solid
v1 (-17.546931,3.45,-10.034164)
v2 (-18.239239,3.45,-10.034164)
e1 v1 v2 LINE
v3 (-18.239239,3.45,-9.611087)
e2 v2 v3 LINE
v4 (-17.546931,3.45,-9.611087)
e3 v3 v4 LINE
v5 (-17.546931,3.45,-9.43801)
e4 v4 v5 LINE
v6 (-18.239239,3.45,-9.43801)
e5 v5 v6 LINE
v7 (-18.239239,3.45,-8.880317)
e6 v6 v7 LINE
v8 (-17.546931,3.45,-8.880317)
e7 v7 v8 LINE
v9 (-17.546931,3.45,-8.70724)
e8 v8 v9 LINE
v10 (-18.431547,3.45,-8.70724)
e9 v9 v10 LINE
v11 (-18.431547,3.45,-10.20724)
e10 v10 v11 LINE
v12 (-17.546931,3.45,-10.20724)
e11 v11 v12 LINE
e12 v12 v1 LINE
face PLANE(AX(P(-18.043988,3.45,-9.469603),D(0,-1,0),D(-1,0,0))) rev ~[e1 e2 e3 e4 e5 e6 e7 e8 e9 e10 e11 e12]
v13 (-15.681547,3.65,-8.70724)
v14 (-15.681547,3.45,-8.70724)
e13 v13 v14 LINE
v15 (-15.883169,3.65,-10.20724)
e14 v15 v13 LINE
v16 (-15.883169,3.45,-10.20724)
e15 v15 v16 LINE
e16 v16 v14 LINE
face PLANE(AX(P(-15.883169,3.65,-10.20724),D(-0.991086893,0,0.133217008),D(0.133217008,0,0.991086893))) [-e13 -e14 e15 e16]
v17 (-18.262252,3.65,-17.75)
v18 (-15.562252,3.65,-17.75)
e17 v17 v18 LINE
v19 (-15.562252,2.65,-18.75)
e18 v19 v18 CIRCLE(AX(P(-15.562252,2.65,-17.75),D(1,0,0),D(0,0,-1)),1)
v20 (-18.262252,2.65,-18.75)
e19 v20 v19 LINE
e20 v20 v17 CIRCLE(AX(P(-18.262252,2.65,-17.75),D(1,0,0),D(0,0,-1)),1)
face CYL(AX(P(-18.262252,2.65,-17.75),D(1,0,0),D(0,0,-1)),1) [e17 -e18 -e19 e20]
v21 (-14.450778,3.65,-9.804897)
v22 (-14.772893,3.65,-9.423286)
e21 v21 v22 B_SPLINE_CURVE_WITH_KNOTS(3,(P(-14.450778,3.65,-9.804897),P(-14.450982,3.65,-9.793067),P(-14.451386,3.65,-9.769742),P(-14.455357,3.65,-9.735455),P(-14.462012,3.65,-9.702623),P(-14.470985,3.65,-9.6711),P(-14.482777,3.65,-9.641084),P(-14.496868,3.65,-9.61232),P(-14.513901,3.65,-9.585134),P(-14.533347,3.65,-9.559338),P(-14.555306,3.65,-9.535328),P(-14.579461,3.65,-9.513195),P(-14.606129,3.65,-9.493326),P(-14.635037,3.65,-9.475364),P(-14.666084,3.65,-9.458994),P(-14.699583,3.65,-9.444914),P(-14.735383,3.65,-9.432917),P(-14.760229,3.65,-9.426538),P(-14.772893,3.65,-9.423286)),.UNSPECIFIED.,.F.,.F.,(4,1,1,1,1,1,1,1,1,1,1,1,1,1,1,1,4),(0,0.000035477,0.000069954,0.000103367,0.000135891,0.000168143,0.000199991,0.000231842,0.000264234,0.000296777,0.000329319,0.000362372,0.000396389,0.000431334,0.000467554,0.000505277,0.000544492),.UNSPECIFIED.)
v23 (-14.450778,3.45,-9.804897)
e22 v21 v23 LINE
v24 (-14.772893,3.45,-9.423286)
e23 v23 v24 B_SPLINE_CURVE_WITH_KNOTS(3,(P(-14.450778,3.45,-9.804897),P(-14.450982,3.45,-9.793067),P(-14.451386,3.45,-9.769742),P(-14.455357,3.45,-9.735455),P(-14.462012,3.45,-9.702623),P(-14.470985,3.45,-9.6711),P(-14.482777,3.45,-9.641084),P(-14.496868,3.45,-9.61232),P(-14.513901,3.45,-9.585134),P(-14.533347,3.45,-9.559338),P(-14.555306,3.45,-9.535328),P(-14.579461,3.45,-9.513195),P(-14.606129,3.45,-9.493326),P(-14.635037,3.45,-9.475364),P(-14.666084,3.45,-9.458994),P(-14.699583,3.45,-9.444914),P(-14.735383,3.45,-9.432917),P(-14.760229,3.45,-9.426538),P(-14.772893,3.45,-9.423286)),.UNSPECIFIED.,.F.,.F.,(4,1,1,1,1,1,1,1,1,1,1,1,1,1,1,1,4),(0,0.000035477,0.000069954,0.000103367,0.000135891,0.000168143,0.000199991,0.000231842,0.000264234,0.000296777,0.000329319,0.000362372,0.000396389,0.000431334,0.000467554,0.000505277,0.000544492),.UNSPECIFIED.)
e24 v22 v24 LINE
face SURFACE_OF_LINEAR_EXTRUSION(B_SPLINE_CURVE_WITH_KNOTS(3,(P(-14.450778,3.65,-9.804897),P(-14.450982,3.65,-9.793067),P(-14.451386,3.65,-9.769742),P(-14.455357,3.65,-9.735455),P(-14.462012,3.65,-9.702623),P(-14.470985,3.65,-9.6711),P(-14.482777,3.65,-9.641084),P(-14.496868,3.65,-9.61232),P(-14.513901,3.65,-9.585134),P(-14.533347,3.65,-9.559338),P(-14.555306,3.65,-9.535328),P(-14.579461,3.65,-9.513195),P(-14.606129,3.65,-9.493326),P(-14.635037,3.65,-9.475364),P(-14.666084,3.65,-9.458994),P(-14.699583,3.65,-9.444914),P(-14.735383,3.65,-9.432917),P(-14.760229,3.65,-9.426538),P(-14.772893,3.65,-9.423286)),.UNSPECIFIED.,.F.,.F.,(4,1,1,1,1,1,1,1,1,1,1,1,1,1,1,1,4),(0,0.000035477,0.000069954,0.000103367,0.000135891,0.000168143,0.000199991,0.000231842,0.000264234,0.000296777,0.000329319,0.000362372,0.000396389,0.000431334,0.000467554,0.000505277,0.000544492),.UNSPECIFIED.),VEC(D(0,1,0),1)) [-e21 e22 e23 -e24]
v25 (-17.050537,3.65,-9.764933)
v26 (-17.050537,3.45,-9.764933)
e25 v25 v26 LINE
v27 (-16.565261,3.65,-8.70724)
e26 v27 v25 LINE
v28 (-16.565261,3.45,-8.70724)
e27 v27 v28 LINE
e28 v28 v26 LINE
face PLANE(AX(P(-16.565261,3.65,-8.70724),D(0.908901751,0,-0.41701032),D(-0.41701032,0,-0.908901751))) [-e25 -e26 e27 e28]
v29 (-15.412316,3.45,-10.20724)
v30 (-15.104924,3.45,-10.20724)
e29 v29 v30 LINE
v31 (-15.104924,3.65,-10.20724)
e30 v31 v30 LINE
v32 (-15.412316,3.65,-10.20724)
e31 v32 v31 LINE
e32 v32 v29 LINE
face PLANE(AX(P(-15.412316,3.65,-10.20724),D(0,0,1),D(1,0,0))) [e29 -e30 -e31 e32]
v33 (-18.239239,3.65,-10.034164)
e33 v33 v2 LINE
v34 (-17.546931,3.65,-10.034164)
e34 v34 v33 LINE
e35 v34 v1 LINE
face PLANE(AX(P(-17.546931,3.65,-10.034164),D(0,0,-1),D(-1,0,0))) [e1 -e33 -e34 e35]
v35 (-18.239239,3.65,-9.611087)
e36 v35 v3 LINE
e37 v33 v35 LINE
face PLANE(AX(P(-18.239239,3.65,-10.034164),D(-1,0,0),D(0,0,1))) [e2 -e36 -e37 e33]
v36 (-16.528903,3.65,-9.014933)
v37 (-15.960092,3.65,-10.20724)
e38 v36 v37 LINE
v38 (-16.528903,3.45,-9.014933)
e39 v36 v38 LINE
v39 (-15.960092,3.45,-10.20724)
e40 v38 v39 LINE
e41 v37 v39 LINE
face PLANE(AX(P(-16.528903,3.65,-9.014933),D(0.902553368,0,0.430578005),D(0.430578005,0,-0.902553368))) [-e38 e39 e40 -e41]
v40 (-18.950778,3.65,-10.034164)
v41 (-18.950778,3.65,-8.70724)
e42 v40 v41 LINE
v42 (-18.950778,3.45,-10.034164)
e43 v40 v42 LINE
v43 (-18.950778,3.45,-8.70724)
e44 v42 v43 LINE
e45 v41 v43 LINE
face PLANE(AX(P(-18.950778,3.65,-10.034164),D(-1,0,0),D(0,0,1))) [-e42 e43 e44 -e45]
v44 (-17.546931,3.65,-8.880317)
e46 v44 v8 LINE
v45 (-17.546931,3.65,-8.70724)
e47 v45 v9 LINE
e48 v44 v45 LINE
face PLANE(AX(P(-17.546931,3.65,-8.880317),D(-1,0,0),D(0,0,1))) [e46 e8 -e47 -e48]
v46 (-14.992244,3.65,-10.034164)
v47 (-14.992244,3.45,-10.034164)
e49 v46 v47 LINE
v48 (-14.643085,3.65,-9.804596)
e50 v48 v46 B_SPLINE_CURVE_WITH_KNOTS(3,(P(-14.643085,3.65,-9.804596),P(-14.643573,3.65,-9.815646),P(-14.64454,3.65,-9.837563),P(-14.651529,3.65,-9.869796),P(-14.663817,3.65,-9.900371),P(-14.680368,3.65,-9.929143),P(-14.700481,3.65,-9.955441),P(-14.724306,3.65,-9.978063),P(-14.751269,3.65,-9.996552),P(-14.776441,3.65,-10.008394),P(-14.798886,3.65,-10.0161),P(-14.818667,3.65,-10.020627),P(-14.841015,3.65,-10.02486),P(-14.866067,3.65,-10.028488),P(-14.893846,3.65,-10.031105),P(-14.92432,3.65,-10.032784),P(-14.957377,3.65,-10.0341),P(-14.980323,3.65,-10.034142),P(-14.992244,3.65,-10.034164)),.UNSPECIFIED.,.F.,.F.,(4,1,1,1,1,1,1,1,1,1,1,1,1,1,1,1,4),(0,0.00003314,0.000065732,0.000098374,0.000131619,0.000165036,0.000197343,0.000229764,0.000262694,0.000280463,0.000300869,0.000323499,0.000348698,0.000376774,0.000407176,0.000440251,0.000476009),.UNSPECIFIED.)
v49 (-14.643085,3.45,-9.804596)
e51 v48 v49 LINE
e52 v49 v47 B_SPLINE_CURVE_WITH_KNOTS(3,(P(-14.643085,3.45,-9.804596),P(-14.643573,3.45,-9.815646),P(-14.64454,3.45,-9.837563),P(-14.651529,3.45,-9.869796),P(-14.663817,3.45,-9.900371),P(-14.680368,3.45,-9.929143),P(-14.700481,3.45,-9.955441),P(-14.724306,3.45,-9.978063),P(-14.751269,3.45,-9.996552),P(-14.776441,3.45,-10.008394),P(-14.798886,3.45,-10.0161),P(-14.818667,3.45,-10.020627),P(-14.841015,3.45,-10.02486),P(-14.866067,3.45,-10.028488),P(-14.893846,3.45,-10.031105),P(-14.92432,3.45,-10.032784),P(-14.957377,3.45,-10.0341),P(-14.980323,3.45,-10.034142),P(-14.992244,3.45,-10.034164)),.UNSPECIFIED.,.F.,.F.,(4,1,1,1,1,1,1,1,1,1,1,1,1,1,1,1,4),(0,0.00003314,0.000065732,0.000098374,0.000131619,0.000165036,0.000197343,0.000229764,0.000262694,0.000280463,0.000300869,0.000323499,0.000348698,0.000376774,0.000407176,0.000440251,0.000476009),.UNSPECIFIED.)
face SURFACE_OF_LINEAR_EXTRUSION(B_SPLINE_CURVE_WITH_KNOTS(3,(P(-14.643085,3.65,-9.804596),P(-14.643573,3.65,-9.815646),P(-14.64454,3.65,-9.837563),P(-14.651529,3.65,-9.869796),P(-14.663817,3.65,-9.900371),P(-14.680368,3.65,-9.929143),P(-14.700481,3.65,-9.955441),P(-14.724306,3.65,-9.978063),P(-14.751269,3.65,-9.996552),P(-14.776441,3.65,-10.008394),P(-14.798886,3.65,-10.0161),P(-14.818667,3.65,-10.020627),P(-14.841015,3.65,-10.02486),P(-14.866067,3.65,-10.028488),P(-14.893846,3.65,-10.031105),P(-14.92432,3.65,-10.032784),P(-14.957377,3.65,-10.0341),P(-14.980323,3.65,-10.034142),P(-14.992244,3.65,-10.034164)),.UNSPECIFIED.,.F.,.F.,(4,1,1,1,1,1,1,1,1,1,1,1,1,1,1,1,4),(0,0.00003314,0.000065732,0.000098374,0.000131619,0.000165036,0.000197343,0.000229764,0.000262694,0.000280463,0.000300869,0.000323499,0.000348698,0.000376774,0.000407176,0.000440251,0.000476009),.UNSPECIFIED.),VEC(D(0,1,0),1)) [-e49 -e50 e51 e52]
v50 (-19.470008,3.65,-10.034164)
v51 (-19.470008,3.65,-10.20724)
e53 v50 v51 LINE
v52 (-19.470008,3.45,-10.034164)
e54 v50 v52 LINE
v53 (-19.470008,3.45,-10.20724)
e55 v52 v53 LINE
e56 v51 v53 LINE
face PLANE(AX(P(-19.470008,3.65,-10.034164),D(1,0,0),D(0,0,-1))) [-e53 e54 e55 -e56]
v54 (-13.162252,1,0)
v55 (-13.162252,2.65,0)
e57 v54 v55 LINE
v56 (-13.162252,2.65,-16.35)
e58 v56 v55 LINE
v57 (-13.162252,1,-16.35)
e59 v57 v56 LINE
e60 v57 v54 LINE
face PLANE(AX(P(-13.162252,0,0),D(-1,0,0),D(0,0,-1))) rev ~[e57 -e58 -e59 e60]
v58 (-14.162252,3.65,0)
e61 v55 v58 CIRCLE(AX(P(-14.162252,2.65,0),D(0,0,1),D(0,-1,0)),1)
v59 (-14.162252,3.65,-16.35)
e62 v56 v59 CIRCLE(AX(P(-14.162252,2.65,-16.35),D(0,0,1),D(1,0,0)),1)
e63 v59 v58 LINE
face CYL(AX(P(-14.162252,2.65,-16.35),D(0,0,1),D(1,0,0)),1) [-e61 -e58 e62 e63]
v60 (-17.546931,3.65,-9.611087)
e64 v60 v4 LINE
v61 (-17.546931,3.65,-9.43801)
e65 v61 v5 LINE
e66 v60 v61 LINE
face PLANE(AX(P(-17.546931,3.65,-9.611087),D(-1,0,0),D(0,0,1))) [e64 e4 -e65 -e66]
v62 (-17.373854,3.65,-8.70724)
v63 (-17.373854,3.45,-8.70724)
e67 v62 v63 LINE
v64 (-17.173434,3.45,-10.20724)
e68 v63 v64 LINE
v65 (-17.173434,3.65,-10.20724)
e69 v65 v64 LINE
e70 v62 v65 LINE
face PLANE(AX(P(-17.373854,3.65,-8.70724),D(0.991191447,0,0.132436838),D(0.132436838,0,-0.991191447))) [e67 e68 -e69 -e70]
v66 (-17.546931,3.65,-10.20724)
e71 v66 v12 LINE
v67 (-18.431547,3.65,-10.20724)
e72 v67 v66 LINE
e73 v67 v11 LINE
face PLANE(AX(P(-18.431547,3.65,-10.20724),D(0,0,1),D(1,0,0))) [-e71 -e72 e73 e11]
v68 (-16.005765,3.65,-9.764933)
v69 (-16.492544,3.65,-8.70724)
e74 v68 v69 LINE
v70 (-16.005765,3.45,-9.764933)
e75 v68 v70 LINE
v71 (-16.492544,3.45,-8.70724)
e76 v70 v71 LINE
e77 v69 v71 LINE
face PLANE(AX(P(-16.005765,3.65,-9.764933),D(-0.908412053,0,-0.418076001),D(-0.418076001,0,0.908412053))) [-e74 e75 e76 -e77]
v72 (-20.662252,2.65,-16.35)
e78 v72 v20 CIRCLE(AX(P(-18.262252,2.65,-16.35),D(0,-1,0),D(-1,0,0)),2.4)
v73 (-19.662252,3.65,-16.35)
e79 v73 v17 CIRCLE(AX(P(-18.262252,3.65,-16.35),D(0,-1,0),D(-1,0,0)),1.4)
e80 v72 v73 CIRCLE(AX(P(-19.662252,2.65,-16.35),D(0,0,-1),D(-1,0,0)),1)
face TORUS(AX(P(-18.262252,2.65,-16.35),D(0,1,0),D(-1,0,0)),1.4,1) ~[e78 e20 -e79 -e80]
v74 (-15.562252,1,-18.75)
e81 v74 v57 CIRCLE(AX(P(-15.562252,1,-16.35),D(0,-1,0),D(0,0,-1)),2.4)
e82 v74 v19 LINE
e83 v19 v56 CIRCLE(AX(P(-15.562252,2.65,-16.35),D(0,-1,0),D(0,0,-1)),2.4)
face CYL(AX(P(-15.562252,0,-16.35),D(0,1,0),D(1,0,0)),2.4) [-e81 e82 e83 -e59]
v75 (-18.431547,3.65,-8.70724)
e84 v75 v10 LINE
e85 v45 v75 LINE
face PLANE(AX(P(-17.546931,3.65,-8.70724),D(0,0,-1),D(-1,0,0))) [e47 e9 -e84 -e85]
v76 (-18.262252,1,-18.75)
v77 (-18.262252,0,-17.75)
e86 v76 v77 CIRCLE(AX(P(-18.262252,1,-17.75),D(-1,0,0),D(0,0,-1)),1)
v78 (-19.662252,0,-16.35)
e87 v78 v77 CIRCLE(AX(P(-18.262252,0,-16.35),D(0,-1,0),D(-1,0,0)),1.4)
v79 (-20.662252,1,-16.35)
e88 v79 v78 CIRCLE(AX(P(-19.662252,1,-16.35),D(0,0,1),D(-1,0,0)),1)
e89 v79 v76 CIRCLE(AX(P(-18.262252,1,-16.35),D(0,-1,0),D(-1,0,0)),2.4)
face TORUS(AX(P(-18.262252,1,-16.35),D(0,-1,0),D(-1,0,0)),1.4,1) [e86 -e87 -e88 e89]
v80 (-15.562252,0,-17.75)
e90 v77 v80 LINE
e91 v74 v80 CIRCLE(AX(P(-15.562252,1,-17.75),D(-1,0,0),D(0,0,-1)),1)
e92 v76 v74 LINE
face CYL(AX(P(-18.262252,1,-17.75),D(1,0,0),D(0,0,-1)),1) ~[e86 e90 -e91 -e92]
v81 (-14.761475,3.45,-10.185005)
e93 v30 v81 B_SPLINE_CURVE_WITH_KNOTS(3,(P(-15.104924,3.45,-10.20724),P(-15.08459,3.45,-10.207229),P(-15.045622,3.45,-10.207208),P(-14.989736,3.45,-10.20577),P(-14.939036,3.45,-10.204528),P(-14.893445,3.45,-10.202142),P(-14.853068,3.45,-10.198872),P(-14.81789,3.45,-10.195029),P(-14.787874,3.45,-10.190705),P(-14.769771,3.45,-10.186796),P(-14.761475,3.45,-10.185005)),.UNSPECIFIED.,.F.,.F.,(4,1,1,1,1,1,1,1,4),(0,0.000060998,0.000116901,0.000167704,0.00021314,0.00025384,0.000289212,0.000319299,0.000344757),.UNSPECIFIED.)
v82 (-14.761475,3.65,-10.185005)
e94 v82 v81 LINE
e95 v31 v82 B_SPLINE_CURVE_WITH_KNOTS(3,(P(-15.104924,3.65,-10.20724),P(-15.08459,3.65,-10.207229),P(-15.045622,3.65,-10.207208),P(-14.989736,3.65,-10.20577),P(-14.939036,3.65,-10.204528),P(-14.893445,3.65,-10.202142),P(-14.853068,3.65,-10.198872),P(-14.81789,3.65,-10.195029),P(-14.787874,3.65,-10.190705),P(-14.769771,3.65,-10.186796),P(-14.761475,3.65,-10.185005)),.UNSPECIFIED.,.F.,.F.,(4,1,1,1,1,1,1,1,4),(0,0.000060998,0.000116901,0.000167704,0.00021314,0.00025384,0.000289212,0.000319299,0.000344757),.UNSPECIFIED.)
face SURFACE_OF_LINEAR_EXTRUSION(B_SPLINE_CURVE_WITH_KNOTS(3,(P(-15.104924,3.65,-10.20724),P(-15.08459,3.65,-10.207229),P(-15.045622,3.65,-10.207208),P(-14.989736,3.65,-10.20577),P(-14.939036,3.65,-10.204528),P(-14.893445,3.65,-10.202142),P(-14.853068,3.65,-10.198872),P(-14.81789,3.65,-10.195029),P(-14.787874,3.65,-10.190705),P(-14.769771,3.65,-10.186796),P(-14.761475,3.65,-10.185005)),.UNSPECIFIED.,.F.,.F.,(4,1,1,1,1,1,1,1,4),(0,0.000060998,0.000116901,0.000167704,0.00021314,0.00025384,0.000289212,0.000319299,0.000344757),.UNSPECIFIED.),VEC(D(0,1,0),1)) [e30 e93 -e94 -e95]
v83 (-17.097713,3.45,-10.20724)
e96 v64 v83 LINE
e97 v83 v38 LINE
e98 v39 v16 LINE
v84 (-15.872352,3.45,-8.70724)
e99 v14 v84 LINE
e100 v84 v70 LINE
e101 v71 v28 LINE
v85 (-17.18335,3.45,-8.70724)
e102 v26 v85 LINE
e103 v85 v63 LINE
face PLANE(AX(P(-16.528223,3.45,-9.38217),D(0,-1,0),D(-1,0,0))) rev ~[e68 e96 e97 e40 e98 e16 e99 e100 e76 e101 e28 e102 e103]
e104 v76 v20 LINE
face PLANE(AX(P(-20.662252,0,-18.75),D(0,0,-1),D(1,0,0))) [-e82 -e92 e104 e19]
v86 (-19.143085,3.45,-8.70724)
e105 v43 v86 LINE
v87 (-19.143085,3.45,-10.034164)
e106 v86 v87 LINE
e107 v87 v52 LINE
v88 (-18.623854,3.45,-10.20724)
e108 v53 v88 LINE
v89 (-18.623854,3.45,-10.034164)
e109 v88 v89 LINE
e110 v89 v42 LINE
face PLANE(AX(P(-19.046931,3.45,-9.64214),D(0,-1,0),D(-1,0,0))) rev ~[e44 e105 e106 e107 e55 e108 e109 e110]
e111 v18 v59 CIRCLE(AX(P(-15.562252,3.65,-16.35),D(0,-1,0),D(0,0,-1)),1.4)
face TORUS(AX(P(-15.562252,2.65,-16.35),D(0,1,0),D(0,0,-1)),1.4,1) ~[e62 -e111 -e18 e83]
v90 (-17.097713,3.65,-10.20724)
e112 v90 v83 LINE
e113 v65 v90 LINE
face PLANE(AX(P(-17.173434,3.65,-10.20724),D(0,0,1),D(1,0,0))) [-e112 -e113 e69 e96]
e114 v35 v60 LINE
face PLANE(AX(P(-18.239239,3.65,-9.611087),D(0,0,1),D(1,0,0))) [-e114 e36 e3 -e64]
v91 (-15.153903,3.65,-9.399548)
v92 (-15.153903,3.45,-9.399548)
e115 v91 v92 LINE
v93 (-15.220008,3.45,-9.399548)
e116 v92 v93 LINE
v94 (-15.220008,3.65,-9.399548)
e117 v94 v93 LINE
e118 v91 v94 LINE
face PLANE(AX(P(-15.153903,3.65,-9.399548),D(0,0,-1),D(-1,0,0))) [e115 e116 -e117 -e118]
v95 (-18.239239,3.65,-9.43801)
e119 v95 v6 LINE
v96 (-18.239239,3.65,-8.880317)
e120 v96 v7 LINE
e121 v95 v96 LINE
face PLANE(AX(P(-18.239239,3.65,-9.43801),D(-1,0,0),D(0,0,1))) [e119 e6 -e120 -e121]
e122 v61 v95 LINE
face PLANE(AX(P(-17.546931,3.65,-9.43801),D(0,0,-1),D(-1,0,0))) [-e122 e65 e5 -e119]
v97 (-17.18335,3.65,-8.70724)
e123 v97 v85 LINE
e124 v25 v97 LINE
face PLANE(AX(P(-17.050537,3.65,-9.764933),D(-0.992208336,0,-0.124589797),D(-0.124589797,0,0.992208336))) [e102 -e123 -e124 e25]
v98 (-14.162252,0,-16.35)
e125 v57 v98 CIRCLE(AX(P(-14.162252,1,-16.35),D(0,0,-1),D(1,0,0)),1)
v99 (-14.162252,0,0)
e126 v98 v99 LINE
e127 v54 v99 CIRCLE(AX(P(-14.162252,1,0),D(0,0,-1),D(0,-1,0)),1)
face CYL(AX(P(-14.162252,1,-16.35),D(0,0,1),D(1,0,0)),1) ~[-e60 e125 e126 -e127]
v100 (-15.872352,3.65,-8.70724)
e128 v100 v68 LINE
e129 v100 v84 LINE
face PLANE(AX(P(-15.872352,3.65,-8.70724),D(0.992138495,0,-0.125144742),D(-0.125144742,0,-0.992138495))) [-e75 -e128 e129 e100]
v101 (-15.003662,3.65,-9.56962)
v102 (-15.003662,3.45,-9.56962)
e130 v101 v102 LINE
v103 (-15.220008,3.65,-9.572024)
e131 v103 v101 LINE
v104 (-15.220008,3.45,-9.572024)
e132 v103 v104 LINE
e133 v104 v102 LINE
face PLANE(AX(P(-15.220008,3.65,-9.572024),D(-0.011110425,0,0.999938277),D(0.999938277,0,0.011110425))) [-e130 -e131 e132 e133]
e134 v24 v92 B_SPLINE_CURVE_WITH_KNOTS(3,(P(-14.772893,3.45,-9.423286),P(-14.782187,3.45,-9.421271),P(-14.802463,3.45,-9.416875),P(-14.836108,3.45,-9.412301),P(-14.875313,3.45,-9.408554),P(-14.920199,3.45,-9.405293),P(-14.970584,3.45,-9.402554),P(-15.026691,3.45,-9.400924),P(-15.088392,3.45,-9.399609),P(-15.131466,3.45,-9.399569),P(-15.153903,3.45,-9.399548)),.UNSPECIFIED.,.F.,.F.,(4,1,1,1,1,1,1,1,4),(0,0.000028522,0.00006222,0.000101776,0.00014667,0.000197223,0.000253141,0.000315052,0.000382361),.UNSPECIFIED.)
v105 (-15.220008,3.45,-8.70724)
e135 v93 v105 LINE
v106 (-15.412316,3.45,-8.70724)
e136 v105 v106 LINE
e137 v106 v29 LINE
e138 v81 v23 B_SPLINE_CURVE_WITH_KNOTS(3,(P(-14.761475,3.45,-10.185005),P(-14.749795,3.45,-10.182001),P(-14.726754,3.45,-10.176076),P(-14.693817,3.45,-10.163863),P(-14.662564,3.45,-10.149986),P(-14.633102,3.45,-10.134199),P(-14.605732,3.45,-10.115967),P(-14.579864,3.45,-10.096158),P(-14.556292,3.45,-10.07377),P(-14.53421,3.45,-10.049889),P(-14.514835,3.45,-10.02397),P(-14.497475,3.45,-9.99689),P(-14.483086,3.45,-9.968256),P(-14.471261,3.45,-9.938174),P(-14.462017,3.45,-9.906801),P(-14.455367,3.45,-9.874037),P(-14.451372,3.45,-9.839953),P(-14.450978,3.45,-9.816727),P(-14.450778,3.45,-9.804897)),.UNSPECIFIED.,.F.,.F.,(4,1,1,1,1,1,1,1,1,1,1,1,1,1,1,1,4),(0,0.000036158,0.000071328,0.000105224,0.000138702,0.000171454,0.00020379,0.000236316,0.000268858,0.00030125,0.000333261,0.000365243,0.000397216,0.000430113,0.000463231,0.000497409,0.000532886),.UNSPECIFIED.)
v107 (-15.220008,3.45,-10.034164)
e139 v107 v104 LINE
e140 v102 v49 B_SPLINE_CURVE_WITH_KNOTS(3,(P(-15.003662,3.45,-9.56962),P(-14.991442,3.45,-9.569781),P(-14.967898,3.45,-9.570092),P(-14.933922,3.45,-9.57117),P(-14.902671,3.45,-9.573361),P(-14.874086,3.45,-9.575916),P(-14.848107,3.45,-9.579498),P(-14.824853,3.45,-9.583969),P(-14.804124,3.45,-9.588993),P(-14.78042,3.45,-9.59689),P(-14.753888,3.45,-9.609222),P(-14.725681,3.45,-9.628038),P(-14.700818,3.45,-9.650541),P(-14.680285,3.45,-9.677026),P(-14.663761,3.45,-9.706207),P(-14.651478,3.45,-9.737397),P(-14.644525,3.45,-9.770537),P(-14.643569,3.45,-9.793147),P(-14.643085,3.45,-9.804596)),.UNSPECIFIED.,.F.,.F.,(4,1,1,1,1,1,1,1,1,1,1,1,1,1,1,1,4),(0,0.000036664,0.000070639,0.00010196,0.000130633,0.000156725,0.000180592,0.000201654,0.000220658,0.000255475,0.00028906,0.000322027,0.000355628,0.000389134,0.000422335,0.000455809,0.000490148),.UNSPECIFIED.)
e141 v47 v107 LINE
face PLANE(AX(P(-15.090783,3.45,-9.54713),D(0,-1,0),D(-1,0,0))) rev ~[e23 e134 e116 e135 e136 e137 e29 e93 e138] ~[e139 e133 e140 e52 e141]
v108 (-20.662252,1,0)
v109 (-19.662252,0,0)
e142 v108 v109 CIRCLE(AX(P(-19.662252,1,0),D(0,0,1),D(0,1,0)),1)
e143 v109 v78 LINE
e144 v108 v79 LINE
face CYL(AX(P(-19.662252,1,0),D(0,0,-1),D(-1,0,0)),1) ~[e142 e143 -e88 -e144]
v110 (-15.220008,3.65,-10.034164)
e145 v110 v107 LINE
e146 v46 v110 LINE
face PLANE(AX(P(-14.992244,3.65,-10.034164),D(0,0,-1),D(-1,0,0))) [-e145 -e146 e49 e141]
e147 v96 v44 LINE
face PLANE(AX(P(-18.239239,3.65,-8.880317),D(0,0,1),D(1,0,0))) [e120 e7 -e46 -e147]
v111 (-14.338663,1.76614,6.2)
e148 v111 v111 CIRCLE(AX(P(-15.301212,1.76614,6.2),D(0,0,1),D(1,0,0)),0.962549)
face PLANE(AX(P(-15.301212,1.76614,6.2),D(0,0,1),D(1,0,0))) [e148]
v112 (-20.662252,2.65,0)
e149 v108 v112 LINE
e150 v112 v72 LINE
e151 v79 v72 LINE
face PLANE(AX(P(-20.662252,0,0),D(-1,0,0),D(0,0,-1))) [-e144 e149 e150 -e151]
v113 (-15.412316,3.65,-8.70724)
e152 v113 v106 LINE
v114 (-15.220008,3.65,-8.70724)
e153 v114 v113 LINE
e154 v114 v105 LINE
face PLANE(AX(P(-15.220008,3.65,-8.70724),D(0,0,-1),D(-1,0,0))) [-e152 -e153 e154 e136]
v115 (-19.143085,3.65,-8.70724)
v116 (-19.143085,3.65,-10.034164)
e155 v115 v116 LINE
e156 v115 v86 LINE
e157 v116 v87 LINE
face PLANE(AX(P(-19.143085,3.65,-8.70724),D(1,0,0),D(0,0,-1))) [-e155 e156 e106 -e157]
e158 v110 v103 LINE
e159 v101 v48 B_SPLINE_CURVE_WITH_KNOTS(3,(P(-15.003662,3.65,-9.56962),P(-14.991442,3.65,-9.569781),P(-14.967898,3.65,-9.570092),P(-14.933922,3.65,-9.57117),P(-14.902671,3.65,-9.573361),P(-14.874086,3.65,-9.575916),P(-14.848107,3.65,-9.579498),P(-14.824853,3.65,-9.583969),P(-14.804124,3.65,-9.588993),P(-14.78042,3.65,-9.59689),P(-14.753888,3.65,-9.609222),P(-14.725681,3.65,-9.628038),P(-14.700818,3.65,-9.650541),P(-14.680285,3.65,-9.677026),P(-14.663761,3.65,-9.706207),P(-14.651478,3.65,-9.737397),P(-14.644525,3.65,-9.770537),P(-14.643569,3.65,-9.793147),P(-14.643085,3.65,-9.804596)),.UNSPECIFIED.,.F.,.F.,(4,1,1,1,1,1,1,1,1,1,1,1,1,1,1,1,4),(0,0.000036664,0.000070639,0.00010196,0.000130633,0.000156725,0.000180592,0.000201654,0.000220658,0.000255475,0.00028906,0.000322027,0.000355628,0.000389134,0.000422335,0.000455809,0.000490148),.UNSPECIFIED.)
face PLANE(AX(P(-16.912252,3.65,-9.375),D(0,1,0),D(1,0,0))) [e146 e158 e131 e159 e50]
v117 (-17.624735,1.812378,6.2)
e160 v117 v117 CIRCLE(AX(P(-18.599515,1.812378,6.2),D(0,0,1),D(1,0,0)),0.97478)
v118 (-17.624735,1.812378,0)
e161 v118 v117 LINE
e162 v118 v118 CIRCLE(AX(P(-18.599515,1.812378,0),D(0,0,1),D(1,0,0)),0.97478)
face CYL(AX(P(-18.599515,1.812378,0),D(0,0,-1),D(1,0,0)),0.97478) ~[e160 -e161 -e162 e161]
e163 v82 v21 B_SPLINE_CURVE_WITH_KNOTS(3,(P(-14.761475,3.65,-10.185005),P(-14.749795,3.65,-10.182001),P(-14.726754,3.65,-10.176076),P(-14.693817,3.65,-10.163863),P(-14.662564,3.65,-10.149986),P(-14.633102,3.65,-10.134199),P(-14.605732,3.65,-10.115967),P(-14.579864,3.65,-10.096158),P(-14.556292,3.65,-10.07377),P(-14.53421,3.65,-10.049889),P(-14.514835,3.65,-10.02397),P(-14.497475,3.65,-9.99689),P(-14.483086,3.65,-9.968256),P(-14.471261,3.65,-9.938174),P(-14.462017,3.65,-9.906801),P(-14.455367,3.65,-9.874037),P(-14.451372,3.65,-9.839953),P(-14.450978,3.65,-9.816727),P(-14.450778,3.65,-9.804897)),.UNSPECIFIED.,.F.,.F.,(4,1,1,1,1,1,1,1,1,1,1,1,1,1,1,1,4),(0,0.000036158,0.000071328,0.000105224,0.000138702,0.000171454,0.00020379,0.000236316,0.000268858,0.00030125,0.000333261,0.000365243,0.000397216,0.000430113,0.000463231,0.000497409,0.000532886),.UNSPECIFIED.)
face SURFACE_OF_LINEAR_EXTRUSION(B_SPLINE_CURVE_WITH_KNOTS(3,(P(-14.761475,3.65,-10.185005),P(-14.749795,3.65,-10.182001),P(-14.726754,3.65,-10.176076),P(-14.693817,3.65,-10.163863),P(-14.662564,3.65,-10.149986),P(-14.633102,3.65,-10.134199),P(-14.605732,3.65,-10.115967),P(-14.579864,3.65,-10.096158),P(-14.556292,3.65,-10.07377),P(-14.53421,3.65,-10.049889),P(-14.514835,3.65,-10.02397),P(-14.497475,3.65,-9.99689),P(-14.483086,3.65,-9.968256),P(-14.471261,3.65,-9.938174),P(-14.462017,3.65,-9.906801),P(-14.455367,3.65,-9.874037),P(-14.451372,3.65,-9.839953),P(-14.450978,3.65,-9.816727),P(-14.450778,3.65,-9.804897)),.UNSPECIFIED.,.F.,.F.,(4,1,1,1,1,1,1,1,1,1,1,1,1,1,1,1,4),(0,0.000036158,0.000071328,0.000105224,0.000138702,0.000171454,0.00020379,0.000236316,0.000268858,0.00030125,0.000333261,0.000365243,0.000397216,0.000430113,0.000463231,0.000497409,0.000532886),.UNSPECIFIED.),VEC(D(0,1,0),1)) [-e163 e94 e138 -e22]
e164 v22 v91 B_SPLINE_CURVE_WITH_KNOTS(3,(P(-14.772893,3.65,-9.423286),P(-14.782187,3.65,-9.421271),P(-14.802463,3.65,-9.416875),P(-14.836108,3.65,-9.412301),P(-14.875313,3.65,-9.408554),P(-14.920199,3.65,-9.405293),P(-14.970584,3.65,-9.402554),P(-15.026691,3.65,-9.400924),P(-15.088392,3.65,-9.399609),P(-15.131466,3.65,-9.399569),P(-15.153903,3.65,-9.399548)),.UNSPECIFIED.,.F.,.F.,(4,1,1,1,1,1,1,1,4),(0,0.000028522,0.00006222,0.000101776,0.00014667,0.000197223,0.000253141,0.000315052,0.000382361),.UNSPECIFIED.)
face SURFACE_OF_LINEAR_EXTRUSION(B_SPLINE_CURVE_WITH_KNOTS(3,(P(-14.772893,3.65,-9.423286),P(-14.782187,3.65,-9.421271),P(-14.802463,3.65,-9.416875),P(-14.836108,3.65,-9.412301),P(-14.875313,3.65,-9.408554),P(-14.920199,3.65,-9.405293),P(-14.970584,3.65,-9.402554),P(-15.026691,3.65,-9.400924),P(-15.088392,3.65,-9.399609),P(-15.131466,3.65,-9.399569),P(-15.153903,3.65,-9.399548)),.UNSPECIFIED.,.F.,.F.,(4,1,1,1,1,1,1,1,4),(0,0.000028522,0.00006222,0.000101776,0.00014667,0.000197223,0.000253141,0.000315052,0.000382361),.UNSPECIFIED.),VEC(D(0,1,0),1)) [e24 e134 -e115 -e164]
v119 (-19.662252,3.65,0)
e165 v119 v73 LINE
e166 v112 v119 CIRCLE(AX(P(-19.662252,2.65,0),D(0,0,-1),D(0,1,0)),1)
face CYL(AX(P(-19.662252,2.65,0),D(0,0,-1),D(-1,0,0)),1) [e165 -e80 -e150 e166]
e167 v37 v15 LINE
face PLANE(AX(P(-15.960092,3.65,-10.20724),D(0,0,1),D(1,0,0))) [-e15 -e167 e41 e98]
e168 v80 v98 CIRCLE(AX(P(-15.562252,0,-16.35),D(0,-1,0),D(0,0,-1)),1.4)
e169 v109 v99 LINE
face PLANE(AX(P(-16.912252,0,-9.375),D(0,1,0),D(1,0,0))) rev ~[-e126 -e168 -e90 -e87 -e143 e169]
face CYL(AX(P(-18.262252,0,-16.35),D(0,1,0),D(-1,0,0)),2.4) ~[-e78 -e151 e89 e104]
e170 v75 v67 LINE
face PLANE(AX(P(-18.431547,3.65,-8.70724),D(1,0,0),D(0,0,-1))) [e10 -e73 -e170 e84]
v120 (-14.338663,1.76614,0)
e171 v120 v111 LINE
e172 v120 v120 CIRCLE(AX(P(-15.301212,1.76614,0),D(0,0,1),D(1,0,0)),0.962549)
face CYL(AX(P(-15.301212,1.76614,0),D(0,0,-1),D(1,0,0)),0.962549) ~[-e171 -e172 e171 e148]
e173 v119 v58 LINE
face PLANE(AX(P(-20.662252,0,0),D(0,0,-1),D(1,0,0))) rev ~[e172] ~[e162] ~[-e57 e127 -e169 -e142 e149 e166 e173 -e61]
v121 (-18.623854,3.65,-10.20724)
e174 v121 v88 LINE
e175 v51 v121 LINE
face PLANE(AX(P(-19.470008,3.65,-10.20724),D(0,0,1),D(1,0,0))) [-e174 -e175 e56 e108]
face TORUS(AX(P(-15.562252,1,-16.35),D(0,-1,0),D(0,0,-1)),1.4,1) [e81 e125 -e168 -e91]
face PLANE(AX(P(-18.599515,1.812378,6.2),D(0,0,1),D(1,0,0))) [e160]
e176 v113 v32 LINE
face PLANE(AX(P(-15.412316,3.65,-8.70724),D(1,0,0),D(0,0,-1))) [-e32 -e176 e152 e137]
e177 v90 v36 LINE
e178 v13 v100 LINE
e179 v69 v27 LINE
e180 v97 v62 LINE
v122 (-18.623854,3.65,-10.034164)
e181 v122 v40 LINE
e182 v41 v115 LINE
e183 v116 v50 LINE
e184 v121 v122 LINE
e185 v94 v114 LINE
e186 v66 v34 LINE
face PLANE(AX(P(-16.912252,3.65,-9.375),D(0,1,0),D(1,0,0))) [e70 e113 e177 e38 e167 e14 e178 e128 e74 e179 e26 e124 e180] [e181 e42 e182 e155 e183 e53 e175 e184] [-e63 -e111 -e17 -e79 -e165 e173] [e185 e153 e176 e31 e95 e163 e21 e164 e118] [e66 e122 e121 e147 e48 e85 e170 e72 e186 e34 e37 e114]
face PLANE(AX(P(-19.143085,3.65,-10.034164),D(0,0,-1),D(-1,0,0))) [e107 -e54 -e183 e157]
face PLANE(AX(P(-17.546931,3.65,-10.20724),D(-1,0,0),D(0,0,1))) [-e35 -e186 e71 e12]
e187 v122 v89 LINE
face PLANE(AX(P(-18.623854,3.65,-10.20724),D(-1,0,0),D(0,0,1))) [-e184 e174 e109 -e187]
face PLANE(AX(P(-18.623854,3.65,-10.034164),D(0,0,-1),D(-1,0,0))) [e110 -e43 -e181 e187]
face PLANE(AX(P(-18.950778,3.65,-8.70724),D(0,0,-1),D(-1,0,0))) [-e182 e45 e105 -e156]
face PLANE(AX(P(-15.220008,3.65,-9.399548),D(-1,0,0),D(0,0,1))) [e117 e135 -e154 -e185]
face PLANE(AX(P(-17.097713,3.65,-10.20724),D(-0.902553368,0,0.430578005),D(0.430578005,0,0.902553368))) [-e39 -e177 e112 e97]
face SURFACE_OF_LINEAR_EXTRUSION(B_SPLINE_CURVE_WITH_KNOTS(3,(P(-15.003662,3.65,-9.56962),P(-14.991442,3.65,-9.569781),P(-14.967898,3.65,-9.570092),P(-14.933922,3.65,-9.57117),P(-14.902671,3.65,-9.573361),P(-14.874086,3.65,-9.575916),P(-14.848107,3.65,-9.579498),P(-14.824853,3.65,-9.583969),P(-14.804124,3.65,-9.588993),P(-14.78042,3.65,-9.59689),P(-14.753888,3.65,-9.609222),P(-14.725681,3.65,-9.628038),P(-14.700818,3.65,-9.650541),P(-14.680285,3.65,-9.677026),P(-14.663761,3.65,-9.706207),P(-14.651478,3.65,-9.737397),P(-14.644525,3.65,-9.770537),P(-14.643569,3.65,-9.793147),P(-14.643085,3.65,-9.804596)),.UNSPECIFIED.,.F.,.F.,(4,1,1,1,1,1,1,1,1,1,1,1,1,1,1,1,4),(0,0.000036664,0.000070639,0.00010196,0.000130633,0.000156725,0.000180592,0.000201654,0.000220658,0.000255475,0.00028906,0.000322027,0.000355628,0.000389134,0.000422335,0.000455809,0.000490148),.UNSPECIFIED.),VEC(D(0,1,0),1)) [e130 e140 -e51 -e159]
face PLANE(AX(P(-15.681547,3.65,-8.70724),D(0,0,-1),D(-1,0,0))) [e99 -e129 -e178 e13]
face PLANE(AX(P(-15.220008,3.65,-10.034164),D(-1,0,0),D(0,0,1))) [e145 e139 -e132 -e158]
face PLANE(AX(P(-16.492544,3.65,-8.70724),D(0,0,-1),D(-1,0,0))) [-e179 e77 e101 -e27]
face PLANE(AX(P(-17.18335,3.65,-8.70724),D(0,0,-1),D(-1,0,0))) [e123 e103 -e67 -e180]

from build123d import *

# Parameters (mm, degrees)
SKETCH1_W           = 7.5
SKETCH1_H           = 18.75
BOSS_EXTRUDE1_DEPTH = 3.65
FILLET1_R           = 2.4
FILLET2_R           = 1
CUT_EXTRUDE1_DEPTH  = 0.2
SKETCH3_R           = 0.974780227
SKETCH3_R_2         = 0.962549202
BOSS_EXTRUDE2_DEPTH = 6.2


with BuildPart() as part:
    # Sketch1 → Boss-Extrude1 (new body)
    with BuildSketch(Plane(origin=(0, 0, 0), x_dir=(1, 0, 0), z_dir=(0, 1, 0))):
        with Locations((-16.912251656, 9.375)):
            Rectangle(SKETCH1_W, SKETCH1_H)
    extrude(amount=BOSS_EXTRUDE1_DEPTH)

    # Fillet1
    fillet1_edges = [part.edges().sort_by_distance(p)[0] for p in [
        (-20.662251656, 1.825, -18.75),
        (-13.162251656, 1.825, -18.75),
    ]]
    fillet(fillet1_edges, radius=FILLET1_R)

    # Fillet2
    fillet2_edges = [part.edges().sort_by_distance(p)[0] for p in [
        (-20.662251656, 0, -8.175),
        (-20.662251656, 3.65, -8.175),
        (-16.912251656, 0, -18.75),
        (-13.865195381, 0, -18.047056275),
        (-19.95930793, 0, -18.047056275),
        (-16.912251656, 3.65, -18.75),
        (-13.865195381, 3.65, -18.047056275),
        (-19.95930793, 3.65, -18.047056275),
        (-13.162251656, 3.65, -8.175),
        (-13.162251656, 0, -8.175),
    ]]
    fillet(fillet2_edges, radius=FILLET2_R)

    # Sketch2 → Cut-Extrude1 (cut)
    with BuildSketch(Plane(origin=(0, 3.65, 0), x_dir=(1, 0, 0), z_dir=(0, 1, 0))):
        Polygon((-19.47000828, 10.03416357), (-19.47000828, 10.207240493), (-18.623854434, 10.207240493), (-18.623854434, 10.03416357), (-18.950777511, 10.03416357), (-18.950777511, 8.707240493), (-19.143085203, 8.707240493), (-19.143085203, 10.03416357), align=None)
        Polygon((-18.431546742, 10.207240493), (-17.546931357, 10.207240493), (-17.546931357, 10.03416357), (-18.239239049, 10.03416357), (-18.239239049, 9.611086647), (-17.546931357, 9.611086647), (-17.546931357, 9.438009724), (-18.239239049, 9.438009724), (-18.239239049, 8.880317416), (-17.546931357, 8.880317416), (-17.546931357, 8.707240493), (-18.431546742, 8.707240493), align=None)
        Polygon((-17.373854434, 8.707240493), (-17.173433761, 10.207240493), (-17.097712607, 10.207240493), (-16.528902511, 9.014932801), (-15.960092415, 10.207240493), (-15.883169338, 10.207240493), (-15.681546742, 8.707240493), (-15.87235203, 8.707240493), (-16.005765492, 9.764932801), (-16.492544338, 8.707240493), (-16.565260684, 8.707240493), (-17.050537126, 9.764932801), (-17.183349626, 8.707240493), align=None)
        with BuildLine():
            Line((-15.412315972, 10.207240493), (-15.104924145, 10.207240493))
            add(Edge.make_bspline(
                [(-15.104924145, 10.207240493), (-15.084590431, 10.207229415), (-15.045621744, 10.207208186), (-14.989736478, 10.205769609), (-14.939035959, 10.204527998), (-14.893445271, 10.202141516), (-14.853068216, 10.198872492), (-14.817890297, 10.195028512), (-14.787873744, 10.190705096), (-14.769771411, 10.186796384), (-14.761474626, 10.185004916)],
                knots=[0, 0, 0, 0, 6.0998e-05, 0.000116901, 0.000167704, 0.00021314, 0.00025384, 0.000289212, 0.000319299, 0.000344757, 0.000344757, 0.000344757, 0.000344757], degree=3))
            add(Edge.make_bspline(
                [(-14.761474626, 10.185004916), (-14.749794935, 10.182001417), (-14.726754486, 10.176076436), (-14.693817305, 10.163863296), (-14.662564371, 10.14998558), (-14.633102385, 10.134199208), (-14.60573229, 10.115966796), (-14.579863591, 10.096157565), (-14.55629197, 10.073769594), (-14.534209882, 10.049888971), (-14.51483493, 10.023970245), (-14.497474918, 9.996890427), (-14.483086108, 9.96825619), (-14.47126094, 9.938174045), (-14.462016779, 9.906800832), (-14.455367321, 9.874036593), (-14.451371733, 9.839953174), (-14.450978032, 9.816726583), (-14.450777511, 9.804896743)],
                knots=[0, 0, 0, 0, 3.6158e-05, 7.1328e-05, 0.000105224, 0.000138702, 0.000171454, 0.00020379, 0.000236316, 0.000268858, 0.00030125, 0.000333261, 0.000365243, 0.000397216, 0.000430113, 0.000463231, 0.000497409, 0.000532886, 0.000532886, 0.000532886, 0.000532886], degree=3))
            add(Edge.make_bspline(
                [(-14.450777511, 9.804896743), (-14.450982431, 9.793067454), (-14.451386495, 9.769742405), (-14.455356851, 9.735455231), (-14.462012335, 9.702622928), (-14.470985169, 9.671100454), (-14.482777462, 9.641083852), (-14.496868277, 9.612319712), (-14.513901371, 9.585133925), (-14.533346655, 9.559337792), (-14.55530593, 9.535327744), (-14.579460944, 9.513194915), (-14.606129209, 9.493325844), (-14.635037209, 9.475363904), (-14.666084216, 9.458994121), (-14.699582563, 9.444914312), (-14.735382799, 9.432916973), (-14.76022897, 9.426537659), (-14.772892895, 9.423286166)],
                knots=[0, 0, 0, 0, 3.5477e-05, 6.9954e-05, 0.000103367, 0.000135891, 0.000168143, 0.000199991, 0.000231842, 0.000264234, 0.000296777, 0.000329319, 0.000362372, 0.000396389, 0.000431334, 0.000467554, 0.000505277, 0.000544492, 0.000544492, 0.000544492, 0.000544492], degree=3))
            add(Edge.make_bspline(
                [(-14.772892895, 9.423286166), (-14.782187231, 9.421271087), (-14.802462631, 9.416875234), (-14.836108437, 9.412301035), (-14.875312671, 9.40855358), (-14.920199238, 9.405293226), (-14.970584149, 9.402554499), (-15.026690891, 9.4009242), (-15.0883915, 9.39960867), (-15.13146575, 9.3995689), (-15.153902511, 9.399548185)],
                knots=[0, 0, 0, 0, 2.8522e-05, 6.222e-05, 0.000101776, 0.00014667, 0.000197223, 0.000253141, 0.000315052, 0.000382361, 0.000382361, 0.000382361, 0.000382361], degree=3))
            Line((-15.153902511, 9.399548185), (-15.22000828, 9.399548185))
            Line((-15.22000828, 9.399548185), (-15.22000828, 8.707240493))
            Line((-15.22000828, 8.707240493), (-15.412315972, 8.707240493))
            Line((-15.412315972, 8.707240493), (-15.412315972, 10.207240493))
        make_face()
        with BuildLine():
            Line((-15.22000828, 10.03416357), (-15.22000828, 9.572024147))
            Line((-15.22000828, 9.572024147), (-15.003662126, 9.569620301))
            add(Edge.make_bspline(
                [(-15.003662126, 9.569620301), (-14.991442118, 9.569781438), (-14.96789801, 9.570091898), (-14.933922023, 9.571169852), (-14.90267133, 9.573360722), (-14.874085566, 9.575915893), (-14.848106984, 9.579498254), (-14.824852537, 9.583969214), (-14.804123942, 9.58899258), (-14.780420498, 9.596890423), (-14.753888196, 9.609222279), (-14.72568146, 9.628038142), (-14.700818195, 9.650540527), (-14.680284887, 9.67702579), (-14.663760532, 9.706207338), (-14.651477561, 9.737397026), (-14.644525179, 9.770537082), (-14.643569262, 9.793147018), (-14.643085203, 9.804596262)],
                knots=[0, 0, 0, 0, 3.6664e-05, 7.0639e-05, 0.00010196, 0.000130633, 0.000156725, 0.000180592, 0.000201654, 0.000220658, 0.000255475, 0.00028906, 0.000322027, 0.000355628, 0.000389134, 0.000422335, 0.000455809, 0.000490148, 0.000490148, 0.000490148, 0.000490148], degree=3))
            add(Edge.make_bspline(
                [(-14.643085203, 9.804596262), (-14.643572758, 9.815645957), (-14.644539806, 9.837562612), (-14.65152853, 9.869796434), (-14.663817169, 9.900371212), (-14.680368439, 9.929142837), (-14.700481342, 9.955440534), (-14.724306032, 9.978063055), (-14.751268987, 9.996551957), (-14.776440979, 10.008393772), (-14.798885683, 10.016100206), (-14.818667462, 10.020627198), (-14.841014829, 10.024859872), (-14.866066555, 10.028488465), (-14.893845944, 10.031105466), (-14.924319512, 10.03278413), (-14.957376784, 10.034099627), (-14.980323278, 10.034141709), (-14.992243857, 10.03416357)],
                knots=[0, 0, 0, 0, 3.314e-05, 6.5732e-05, 9.8374e-05, 0.000131619, 0.000165036, 0.000197343, 0.000229764, 0.000262694, 0.000280463, 0.000300869, 0.000323499, 0.000348698, 0.000376774, 0.000407176, 0.000440251, 0.000476009, 0.000476009, 0.000476009, 0.000476009], degree=3))
            Line((-14.992243857, 10.03416357), (-15.22000828, 10.03416357))
        make_face(mode=Mode.SUBTRACT)
    extrude(amount=-CUT_EXTRUDE1_DEPTH, mode=Mode.SUBTRACT)

    # Sketch3 → Boss-Extrude2 (add)
    with BuildSketch(Plane.XY):
        with Locations((-18.59951473, 1.812377858)):
            Circle(SKETCH3_R)
        with Locations((-15.301212194, 1.766139972)):
            Circle(SKETCH3_R_2)
    extrude(amount=BOSS_EXTRUDE2_DEPTH)


solid = part.part
